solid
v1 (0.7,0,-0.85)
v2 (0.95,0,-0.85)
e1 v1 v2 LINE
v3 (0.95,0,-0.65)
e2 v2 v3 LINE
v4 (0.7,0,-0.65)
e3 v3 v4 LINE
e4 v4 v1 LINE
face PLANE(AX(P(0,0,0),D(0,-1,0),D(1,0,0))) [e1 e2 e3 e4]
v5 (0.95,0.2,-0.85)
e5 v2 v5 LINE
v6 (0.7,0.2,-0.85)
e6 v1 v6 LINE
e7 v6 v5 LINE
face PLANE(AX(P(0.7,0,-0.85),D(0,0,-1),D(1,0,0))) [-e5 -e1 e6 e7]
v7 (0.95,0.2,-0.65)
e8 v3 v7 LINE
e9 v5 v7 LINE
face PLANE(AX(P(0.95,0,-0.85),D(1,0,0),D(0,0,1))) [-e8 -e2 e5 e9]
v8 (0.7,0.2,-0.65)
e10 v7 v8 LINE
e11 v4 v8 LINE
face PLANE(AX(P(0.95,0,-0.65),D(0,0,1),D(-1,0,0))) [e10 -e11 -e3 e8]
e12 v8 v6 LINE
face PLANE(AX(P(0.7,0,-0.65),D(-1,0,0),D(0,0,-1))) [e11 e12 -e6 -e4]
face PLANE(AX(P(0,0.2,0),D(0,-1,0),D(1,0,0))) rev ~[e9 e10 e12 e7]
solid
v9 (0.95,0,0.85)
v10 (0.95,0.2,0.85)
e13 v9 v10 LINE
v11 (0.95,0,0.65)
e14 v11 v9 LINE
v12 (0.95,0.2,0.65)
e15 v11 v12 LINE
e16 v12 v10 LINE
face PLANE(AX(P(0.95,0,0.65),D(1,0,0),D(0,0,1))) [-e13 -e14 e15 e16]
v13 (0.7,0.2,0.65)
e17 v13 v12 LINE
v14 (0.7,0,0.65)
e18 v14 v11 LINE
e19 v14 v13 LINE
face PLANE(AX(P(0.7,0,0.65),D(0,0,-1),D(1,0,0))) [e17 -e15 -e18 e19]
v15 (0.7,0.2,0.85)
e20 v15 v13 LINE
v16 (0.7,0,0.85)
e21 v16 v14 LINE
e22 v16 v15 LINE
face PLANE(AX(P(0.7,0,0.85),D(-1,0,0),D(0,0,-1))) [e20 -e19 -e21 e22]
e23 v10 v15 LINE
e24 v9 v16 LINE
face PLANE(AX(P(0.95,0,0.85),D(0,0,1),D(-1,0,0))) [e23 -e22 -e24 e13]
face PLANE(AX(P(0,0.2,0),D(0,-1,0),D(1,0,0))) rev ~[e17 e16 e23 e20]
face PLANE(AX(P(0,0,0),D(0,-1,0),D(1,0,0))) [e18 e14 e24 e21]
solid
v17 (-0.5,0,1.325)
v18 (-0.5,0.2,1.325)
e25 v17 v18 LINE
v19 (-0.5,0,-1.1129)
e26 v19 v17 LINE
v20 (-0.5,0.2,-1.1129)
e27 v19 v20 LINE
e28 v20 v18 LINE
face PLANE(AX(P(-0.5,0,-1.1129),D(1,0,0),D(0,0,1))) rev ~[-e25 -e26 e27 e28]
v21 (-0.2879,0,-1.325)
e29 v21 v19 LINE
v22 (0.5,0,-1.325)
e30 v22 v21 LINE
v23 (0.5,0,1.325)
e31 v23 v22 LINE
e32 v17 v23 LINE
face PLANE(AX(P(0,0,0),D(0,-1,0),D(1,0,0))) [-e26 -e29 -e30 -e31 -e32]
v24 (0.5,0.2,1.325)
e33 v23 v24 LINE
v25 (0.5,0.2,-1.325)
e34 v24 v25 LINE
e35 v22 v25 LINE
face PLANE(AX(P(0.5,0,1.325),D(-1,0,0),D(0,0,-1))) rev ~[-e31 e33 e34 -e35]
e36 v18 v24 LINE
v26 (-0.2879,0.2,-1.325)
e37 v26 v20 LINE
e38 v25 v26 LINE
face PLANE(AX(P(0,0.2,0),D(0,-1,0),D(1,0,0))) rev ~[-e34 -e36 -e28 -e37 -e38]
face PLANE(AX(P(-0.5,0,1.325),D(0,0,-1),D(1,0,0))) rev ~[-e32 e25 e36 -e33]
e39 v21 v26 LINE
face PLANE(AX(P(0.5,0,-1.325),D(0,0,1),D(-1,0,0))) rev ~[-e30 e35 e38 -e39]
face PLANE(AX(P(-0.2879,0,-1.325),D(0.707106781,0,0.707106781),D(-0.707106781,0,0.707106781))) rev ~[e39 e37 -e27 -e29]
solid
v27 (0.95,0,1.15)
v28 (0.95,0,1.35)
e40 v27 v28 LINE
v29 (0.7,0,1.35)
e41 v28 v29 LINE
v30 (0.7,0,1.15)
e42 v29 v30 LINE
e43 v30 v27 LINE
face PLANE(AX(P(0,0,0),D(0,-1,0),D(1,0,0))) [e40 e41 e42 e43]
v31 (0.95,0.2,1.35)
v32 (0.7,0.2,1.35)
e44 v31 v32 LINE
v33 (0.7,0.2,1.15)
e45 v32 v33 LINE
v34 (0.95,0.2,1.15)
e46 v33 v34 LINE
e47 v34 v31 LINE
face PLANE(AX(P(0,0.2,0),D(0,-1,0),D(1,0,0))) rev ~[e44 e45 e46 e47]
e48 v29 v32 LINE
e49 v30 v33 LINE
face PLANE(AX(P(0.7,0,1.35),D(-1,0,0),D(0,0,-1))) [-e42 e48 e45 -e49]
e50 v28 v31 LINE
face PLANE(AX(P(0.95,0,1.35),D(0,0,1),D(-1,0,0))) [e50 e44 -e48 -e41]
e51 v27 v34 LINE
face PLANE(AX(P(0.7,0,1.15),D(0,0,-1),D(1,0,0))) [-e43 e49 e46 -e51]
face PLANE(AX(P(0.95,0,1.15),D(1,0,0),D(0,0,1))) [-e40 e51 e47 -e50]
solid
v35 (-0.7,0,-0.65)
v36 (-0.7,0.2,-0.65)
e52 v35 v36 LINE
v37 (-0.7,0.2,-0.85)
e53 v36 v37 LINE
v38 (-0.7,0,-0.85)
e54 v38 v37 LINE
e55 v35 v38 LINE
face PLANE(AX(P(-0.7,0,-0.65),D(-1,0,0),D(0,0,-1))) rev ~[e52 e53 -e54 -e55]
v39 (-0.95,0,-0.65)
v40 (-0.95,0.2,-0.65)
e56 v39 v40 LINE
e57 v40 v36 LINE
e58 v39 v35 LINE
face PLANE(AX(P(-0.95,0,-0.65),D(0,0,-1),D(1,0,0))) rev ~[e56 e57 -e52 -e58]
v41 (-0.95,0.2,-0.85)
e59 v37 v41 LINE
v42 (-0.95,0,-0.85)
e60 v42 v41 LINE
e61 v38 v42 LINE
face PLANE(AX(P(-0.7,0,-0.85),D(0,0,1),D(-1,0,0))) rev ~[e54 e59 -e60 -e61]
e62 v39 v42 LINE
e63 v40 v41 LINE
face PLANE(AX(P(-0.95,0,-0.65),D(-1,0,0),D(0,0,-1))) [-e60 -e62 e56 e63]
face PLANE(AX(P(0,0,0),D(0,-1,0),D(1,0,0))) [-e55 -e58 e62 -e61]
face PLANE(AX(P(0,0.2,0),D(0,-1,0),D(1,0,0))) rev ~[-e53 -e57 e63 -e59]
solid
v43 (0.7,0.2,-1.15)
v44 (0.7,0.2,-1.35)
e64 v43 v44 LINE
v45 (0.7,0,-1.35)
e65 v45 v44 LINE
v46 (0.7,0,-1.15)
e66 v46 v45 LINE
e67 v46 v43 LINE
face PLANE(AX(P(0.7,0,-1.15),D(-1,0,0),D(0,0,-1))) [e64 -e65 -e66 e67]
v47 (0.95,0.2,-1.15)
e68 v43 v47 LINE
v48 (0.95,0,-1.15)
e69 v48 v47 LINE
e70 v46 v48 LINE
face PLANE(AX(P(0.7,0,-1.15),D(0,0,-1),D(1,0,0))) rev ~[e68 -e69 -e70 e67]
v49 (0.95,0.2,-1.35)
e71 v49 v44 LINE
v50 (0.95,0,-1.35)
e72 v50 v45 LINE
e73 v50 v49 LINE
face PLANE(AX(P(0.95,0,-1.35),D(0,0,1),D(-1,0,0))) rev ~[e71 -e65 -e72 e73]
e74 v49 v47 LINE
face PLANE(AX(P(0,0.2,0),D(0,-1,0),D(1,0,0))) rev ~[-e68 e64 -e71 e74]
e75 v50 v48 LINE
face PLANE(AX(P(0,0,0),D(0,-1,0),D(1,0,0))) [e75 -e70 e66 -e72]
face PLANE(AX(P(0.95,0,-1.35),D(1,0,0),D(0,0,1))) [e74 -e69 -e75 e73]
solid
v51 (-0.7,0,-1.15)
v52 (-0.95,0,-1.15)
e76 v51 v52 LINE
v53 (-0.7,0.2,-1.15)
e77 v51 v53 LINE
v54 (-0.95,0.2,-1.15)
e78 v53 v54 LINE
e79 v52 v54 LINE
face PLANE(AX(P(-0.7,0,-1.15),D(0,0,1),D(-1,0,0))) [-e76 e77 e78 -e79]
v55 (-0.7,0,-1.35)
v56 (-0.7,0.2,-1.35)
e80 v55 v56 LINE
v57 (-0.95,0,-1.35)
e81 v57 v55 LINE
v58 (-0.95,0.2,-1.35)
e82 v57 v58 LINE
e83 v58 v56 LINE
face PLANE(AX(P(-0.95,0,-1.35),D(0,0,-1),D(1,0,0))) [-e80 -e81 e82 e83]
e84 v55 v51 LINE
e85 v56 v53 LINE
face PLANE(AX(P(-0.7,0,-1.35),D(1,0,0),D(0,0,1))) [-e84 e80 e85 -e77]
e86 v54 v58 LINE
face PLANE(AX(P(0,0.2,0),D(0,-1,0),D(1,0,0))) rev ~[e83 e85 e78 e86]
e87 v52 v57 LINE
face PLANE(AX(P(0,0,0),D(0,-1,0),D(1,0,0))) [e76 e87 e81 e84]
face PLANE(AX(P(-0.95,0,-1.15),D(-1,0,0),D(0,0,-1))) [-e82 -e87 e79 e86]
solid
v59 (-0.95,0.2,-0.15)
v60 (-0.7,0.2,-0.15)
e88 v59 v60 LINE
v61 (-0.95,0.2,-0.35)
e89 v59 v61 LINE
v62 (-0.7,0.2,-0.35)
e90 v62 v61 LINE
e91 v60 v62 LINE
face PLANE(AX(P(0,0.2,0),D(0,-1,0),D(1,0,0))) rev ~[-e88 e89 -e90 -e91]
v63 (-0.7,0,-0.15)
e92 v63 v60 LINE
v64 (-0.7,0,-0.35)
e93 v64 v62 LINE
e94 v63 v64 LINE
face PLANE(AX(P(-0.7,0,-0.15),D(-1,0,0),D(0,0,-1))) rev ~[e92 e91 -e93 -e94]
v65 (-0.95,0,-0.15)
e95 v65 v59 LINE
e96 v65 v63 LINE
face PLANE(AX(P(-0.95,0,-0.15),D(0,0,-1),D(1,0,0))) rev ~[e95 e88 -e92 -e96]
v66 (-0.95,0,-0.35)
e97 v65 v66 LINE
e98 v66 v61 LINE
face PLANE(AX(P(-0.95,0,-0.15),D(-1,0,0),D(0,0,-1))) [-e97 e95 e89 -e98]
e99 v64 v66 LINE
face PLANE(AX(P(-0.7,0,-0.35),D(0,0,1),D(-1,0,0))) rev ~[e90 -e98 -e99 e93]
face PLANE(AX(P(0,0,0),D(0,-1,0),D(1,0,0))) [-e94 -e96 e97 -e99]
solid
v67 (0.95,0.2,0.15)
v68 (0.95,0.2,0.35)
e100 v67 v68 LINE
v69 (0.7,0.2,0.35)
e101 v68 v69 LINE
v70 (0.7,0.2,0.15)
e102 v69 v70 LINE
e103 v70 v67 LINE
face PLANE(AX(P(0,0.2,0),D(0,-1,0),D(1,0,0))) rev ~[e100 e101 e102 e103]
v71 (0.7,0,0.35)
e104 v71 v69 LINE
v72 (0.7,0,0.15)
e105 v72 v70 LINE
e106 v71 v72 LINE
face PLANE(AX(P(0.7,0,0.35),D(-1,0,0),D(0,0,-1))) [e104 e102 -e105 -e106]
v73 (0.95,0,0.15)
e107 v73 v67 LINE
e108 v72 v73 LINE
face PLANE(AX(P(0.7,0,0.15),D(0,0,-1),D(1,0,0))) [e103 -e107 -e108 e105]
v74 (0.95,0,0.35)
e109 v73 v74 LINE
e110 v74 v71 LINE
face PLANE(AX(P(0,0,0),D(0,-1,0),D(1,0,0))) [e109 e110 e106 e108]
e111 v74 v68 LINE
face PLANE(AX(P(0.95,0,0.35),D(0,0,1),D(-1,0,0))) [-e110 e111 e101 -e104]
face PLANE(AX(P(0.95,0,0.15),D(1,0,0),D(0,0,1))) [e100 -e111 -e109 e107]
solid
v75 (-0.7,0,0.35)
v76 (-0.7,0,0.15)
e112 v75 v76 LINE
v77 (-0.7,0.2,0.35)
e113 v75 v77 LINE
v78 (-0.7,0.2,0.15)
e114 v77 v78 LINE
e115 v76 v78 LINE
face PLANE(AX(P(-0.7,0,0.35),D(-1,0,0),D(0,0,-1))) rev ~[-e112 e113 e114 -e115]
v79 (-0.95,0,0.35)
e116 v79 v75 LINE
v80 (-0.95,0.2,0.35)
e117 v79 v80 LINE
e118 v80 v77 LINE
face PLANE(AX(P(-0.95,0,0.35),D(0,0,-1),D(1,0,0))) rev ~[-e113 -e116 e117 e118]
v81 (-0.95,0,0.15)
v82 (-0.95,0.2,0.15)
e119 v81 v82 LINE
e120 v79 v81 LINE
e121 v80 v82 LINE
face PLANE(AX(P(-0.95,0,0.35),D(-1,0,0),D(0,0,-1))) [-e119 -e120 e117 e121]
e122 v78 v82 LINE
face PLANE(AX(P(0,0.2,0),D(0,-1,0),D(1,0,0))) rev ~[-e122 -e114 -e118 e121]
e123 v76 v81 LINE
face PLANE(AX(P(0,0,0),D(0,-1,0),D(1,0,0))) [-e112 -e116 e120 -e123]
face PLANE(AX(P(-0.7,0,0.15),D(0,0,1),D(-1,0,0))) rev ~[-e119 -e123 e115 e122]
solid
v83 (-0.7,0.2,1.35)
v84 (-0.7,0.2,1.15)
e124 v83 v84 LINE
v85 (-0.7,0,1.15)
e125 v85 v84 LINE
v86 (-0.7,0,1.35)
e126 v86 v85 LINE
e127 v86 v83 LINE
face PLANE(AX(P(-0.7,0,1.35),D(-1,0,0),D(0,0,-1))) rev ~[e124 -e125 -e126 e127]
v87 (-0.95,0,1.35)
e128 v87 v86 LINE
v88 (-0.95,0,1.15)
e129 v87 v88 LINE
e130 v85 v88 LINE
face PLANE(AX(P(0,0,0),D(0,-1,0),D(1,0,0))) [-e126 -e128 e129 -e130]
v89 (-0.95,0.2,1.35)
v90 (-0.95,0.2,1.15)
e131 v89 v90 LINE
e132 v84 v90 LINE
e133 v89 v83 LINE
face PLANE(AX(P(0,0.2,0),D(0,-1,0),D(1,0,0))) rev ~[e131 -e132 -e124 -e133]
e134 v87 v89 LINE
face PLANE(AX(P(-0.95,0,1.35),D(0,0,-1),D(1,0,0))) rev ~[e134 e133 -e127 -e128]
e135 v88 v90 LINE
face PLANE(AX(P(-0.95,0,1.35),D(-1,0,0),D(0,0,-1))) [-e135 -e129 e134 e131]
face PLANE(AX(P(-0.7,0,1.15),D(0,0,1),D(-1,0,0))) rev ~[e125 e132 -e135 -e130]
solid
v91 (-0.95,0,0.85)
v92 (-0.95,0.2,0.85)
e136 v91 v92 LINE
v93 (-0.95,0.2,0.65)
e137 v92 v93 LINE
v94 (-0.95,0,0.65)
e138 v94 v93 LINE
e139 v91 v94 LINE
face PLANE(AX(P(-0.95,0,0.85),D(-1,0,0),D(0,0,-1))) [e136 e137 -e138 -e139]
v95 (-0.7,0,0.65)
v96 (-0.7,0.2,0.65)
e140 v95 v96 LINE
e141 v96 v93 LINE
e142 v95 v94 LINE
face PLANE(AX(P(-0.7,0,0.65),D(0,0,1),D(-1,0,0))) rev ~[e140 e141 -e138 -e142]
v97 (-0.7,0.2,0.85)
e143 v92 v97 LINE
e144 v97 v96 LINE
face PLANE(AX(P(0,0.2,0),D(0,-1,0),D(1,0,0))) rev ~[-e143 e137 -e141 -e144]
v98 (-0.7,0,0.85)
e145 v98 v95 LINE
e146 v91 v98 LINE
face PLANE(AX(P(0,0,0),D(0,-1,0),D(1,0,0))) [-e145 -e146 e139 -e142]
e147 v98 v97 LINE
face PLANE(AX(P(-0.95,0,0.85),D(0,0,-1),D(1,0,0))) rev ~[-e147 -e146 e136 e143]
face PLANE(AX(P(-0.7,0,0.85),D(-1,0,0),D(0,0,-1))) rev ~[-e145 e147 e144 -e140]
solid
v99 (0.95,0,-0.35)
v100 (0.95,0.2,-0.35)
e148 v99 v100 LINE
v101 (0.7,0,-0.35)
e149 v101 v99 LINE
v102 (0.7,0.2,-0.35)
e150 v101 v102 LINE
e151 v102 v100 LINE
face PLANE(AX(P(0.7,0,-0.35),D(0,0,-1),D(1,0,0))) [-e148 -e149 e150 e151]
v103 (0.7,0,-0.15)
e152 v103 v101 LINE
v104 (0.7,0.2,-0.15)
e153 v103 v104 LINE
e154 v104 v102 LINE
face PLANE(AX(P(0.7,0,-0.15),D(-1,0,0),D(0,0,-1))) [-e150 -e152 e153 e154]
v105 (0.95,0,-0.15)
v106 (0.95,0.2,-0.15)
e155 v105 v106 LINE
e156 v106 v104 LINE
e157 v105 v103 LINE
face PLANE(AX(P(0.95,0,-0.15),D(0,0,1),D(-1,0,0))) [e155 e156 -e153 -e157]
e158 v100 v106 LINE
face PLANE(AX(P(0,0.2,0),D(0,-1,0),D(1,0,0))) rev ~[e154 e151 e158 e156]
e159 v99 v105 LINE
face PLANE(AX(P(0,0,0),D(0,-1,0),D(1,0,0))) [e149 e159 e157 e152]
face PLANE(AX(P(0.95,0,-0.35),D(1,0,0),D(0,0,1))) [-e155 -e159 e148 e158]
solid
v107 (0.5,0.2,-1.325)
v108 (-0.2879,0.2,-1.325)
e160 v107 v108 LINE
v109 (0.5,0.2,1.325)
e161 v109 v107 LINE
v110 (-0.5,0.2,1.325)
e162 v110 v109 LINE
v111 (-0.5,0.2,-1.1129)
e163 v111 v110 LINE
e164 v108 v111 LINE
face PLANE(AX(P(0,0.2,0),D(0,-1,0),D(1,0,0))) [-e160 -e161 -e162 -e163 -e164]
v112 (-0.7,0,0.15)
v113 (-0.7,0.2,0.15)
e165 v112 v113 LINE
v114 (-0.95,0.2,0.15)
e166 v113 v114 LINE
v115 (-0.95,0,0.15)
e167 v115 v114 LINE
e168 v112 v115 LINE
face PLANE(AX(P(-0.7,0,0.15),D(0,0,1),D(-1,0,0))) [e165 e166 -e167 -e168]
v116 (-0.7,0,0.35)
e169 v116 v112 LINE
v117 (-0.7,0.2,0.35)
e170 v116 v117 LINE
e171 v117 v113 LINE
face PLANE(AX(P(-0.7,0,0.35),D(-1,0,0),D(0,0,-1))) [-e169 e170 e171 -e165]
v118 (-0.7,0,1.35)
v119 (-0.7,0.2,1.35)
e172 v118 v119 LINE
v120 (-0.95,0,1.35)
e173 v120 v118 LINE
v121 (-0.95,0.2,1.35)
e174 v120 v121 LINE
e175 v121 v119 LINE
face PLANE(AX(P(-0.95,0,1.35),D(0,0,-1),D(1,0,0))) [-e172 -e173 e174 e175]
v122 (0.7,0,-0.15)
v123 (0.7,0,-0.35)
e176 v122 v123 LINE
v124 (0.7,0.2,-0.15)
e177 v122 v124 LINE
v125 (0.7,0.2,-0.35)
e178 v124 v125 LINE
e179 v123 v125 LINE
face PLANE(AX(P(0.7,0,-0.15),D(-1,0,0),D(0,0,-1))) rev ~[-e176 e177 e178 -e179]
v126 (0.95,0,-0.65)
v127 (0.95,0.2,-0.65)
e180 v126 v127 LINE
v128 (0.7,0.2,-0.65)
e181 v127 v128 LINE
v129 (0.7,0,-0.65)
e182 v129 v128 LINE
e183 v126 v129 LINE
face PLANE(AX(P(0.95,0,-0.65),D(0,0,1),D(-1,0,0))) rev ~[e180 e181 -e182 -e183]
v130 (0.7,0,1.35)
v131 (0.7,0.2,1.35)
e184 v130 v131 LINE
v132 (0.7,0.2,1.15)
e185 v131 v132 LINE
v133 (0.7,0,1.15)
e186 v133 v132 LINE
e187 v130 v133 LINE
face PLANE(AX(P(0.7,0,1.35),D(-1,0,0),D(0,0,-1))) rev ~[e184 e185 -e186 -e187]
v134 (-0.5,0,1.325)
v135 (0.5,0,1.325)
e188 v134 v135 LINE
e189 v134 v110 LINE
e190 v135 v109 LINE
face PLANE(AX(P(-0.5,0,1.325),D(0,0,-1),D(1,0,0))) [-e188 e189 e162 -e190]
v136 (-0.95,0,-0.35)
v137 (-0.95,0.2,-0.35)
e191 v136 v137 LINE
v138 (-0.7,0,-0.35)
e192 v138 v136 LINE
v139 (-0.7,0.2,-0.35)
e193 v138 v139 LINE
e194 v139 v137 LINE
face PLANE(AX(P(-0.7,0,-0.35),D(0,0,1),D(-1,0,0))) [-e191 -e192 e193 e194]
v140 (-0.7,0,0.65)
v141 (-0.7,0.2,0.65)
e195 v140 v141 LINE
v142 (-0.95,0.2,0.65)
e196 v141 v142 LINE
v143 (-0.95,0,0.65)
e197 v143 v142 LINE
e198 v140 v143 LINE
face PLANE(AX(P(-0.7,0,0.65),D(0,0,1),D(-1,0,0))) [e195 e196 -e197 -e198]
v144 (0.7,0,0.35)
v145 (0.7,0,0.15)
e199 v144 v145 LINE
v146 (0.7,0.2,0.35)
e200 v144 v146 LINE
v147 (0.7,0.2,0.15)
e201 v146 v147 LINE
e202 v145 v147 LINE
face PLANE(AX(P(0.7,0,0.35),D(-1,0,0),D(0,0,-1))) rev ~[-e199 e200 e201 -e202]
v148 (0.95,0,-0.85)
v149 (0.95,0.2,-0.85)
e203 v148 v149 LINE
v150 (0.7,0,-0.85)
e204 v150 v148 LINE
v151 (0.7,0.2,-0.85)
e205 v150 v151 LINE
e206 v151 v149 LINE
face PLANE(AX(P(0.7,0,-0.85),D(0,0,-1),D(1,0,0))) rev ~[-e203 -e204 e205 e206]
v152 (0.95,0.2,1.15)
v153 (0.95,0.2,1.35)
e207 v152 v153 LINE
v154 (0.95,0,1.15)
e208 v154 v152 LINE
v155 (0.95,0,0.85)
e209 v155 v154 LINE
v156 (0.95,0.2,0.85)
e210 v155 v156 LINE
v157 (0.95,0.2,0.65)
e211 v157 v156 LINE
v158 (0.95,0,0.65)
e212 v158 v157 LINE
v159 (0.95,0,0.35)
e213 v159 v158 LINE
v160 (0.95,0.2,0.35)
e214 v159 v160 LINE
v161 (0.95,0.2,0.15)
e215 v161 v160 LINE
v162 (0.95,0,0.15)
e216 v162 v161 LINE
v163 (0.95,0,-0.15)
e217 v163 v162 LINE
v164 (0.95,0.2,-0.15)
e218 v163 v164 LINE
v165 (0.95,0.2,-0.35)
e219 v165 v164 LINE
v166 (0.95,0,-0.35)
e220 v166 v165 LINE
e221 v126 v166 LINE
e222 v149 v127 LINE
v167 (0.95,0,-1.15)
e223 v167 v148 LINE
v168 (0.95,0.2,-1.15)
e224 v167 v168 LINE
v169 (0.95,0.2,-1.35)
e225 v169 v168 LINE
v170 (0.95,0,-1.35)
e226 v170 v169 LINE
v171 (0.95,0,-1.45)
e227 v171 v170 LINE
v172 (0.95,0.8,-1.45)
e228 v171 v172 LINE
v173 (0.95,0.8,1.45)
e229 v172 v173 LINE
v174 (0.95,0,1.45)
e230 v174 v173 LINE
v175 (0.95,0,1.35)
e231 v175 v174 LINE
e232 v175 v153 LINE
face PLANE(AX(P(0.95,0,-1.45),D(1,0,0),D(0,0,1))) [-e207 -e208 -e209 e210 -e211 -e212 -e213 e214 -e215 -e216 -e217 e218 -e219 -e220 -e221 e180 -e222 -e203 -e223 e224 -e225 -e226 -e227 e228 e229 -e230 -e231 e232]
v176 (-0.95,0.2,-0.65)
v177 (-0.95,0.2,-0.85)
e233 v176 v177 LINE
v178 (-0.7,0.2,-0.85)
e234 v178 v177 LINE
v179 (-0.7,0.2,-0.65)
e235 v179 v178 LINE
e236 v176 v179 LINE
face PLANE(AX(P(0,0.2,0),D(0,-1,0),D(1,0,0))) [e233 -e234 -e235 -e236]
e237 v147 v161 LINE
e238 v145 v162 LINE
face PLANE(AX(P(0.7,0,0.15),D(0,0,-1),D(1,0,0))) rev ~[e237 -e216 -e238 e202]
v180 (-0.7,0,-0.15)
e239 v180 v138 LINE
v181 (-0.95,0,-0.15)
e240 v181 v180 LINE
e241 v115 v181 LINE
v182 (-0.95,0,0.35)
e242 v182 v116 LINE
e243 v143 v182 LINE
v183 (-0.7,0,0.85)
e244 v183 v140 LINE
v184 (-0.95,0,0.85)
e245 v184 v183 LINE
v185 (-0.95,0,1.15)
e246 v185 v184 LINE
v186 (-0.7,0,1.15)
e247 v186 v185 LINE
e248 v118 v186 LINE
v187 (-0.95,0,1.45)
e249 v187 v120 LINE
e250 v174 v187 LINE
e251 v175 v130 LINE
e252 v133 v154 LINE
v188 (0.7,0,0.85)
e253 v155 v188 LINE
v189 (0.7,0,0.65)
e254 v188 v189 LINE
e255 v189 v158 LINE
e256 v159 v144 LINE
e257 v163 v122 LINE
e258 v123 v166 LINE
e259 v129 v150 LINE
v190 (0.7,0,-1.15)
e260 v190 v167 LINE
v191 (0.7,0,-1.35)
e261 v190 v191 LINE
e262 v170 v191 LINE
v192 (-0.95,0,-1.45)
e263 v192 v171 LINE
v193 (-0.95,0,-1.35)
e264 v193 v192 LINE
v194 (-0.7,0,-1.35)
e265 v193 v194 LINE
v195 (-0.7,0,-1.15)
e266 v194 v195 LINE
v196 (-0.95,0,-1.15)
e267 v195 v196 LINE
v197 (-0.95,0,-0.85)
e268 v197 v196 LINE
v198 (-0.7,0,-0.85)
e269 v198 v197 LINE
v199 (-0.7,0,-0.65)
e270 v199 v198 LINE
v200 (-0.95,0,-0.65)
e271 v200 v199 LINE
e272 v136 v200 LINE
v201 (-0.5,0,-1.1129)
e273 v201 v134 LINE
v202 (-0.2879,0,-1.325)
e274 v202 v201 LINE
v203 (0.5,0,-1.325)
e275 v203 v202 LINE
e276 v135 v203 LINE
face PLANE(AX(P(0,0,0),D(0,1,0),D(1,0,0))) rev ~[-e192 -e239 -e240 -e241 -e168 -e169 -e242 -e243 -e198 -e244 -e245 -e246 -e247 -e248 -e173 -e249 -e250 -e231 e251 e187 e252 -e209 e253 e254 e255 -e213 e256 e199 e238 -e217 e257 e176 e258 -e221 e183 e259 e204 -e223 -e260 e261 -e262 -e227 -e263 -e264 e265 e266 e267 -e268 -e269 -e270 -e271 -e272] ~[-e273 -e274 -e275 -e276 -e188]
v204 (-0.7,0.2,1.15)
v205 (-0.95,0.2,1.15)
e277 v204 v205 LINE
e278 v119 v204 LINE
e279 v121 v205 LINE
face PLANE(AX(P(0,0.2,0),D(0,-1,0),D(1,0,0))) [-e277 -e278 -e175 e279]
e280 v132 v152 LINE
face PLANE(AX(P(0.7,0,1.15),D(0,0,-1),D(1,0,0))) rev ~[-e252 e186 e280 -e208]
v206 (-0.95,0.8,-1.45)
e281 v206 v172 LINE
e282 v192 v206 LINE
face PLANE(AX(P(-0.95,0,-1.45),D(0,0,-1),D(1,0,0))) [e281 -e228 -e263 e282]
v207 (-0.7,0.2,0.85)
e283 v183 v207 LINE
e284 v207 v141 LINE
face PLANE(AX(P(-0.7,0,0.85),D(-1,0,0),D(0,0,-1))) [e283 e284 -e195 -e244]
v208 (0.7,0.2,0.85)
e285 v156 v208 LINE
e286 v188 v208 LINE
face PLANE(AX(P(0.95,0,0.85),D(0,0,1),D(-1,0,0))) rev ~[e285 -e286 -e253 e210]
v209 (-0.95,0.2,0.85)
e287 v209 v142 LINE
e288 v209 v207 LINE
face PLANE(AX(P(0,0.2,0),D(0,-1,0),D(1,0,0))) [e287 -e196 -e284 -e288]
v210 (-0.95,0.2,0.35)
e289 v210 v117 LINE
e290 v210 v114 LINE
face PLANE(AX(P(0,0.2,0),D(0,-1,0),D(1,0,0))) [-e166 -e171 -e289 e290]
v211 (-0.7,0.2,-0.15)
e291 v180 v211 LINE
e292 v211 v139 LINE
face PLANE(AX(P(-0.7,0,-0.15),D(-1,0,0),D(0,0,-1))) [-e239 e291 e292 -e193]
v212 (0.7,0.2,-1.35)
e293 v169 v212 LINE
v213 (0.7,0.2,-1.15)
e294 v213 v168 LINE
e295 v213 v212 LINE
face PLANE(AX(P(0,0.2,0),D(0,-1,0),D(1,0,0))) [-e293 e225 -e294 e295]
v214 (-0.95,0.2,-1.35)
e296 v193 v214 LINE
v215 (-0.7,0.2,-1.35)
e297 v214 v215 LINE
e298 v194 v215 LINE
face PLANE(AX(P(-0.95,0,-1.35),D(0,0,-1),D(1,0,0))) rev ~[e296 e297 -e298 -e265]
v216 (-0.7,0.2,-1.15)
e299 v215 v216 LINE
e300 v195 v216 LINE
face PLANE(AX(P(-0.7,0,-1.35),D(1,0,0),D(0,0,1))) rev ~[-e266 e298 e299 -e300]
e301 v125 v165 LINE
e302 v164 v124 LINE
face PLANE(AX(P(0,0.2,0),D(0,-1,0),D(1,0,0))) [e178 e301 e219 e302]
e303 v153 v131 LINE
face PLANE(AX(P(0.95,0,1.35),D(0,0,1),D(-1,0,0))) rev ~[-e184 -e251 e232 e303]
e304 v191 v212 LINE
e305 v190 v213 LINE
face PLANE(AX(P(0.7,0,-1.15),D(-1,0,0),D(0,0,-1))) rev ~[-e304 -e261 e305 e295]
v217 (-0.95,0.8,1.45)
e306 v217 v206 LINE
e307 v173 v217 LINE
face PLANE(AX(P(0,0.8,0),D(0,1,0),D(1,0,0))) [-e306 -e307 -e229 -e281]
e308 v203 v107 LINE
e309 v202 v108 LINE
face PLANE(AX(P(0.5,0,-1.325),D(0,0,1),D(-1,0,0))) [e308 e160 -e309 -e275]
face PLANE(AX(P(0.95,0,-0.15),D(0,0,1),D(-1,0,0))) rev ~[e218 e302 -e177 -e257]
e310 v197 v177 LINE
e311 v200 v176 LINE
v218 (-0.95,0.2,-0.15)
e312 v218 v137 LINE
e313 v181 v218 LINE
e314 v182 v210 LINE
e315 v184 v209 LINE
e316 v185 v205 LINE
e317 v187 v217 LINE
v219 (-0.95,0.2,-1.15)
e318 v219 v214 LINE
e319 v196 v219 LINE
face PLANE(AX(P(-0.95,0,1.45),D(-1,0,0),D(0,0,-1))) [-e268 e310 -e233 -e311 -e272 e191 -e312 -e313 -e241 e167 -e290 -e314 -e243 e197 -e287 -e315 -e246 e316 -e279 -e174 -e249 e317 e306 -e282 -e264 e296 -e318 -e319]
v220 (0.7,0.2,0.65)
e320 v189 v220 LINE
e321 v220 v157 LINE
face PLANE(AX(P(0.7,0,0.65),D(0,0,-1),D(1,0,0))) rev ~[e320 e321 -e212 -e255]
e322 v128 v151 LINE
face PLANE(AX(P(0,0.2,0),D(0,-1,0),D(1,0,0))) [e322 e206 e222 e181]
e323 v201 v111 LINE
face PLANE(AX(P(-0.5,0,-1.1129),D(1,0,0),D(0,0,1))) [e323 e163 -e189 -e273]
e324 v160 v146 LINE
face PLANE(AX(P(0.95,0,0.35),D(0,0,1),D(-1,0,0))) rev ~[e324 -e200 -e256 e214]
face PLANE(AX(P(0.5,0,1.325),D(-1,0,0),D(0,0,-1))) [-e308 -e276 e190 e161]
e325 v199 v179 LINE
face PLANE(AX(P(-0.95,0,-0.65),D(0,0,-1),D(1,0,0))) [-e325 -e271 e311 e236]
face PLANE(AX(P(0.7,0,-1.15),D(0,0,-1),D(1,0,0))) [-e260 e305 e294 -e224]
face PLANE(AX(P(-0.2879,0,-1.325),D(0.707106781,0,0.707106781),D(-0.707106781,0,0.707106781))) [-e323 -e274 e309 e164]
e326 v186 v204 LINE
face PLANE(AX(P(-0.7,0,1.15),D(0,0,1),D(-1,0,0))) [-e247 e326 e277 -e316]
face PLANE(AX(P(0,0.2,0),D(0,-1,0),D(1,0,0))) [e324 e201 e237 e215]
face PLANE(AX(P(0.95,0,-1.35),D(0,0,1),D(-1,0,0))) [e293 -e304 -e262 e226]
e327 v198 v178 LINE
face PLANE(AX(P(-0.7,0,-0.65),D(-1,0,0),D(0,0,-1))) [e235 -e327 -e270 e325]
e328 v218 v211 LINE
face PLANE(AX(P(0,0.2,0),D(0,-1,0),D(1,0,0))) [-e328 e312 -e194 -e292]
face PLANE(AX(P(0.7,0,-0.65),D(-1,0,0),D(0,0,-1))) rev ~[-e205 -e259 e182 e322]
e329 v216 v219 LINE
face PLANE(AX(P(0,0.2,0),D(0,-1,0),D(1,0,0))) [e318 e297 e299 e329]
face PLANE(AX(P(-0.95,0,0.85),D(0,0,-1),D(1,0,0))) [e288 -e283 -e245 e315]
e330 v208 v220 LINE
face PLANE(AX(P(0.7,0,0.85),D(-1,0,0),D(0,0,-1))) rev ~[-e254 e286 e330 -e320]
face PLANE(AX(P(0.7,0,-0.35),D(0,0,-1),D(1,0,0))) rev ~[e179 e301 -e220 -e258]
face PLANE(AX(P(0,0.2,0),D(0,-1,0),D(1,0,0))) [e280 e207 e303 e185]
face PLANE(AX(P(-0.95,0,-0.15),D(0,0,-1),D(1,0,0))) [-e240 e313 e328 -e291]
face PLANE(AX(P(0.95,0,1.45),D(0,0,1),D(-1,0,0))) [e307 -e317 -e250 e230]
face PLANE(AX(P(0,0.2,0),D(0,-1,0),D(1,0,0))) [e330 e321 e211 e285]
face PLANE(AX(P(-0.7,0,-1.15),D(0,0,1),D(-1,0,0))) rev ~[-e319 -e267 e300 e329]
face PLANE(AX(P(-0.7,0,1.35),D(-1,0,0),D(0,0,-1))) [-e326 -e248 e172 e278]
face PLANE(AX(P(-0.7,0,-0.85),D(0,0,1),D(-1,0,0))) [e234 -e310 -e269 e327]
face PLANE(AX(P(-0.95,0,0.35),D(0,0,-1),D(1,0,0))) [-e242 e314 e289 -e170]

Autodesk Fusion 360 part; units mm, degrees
sketch "草图1" plane through (0, 0, 0) normal (0, 1, 0) x (1, 0, 0)
  line L0 (-0.95, 1.45) -> (0.95, 1.45)
  line L1 (0.95, 1.45) -> (0.95, -1.45)
  line L2 (0.95, -1.45) -> (-0.95, -1.45)
  line L3 (-0.95, -1.45) -> (-0.95, 1.45)
  line L4 (-0.95, 1.45) -> (0.95, -1.45) construction
  line L5 (0.95, 1.45) -> (-0.95, -1.45) construction
  dimension "d1" = 2.9
  dimension "d2" = 1.9
extrude "拉伸1" add sketch "草图1" along normal blind 0.8 makes body 1
sketch "草图2" plane through (0, 0, 0) normal (0, -1, 0) x (1, 0, 0)
  line L0 (0.95, 1.45) -> (-0.95, 1.45)
  line L1 (-0.95, 1.45) -> (-0.95, -1.45)
  line L2 (-0.95, -1.45) -> (0.95, -1.45)
  line L3 (0.95, -1.45) -> (0.95, 1.45)
  line L4 (0, 2.5) -> (0, -3) construction
  line L5 (-2.5, 0) -> (3, 0) construction
  line L6 (-0.5, 1.325) -> (0.5, 1.325)
  line L7 (0.5, 1.325) -> (0.5, -1.325)
  line L8 (0.5, -1.325) -> (-0.2879, -1.325)
  line L9 (-0.2879, -1.325) -> (-0.5, -1.1129)
  line L10 (-0.5, -1.1129) -> (-0.5, 1.325)
  line L11 (-0.95, 1.35) -> (-0.7, 1.35)
  line L12 (-0.7, 1.35) -> (-0.7, 1.15)
  line L13 (-0.7, 1.15) -> (-0.95, 1.15)
  line L14 (-0.95, 1.15) -> (-0.95, 1.35)
  line L15 (-0.7, -1.15) -> (-0.95, -1.15)
  line L16 (-0.7, -1.35) -> (-0.7, -1.15)
  line L17 (-0.95, -1.15) -> (-0.95, -1.35)
  line L18 (-0.95, -1.35) -> (-0.7, -1.35)
  line L19 (-0.7, 0.65) -> (-0.95, 0.65)
  line L20 (-0.7, 0.85) -> (-0.7, 0.65)
  line L21 (-0.95, 0.85) -> (-0.7, 0.85)
  line L22 (-0.95, 0.65) -> (-0.95, 0.85)
  line L23 (-0.7, 0.15) -> (-0.95, 0.15)
  line L24 (-0.7, 0.35) -> (-0.7, 0.15)
  line L25 (-0.95, 0.35) -> (-0.7, 0.35)
  line L26 (-0.95, 0.15) -> (-0.95, 0.35)
  line L27 (-0.7, -0.35) -> (-0.95, -0.35)
  line L28 (-0.7, -0.15) -> (-0.7, -0.35)
  line L29 (-0.95, -0.15) -> (-0.7, -0.15)
  line L30 (-0.95, -0.35) -> (-0.95, -0.15)
  line L31 (-0.7, -0.85) -> (-0.95, -0.85)
  line L32 (-0.7, -0.65) -> (-0.7, -0.85)
  line L33 (-0.95, -0.65) -> (-0.7, -0.65)
  line L34 (-0.95, -0.85) -> (-0.95, -0.65)
  line L35 (-0.7, -1.35) -> (-0.95, -1.35)
  line L36 (-0.7, -1.15) -> (-0.7, -1.35)
  line L37 (-0.95, -1.15) -> (-0.7, -1.15)
  line L38 (-0.95, -1.35) -> (-0.95, -1.15)
  line L39 (0.7, 1.15) -> (0.95, 1.15)
  line L40 (0.7, 1.35) -> (0.7, 1.15)
  line L41 (0.95, 1.35) -> (0.7, 1.35)
  line L42 (0.95, 1.15) -> (0.95, 1.35)
  line L43 (0.95, 0.85) -> (0.7, 0.85)
  line L44 (0.7, 0.85) -> (0.7, 0.65)
  line L45 (0.7, 0.65) -> (0.95, 0.65)
  line L46 (0.95, 0.65) -> (0.95, 0.85)
  line L47 (0.95, 0.35) -> (0.7, 0.35)
  line L48 (0.7, 0.35) -> (0.7, 0.15)
  line L49 (0.7, 0.15) -> (0.95, 0.15)
  line L50 (0.95, 0.15) -> (0.95, 0.35)
  line L51 (0.95, -0.15) -> (0.7, -0.15)
  line L52 (0.7, -0.15) -> (0.7, -0.35)
  line L53 (0.7, -0.35) -> (0.95, -0.35)
  line L54 (0.95, -0.35) -> (0.95, -0.15)
  line L55 (0.95, -0.65) -> (0.7, -0.65)
  line L56 (0.7, -0.65) -> (0.7, -0.85)
  line L57 (0.7, -0.85) -> (0.95, -0.85)
  line L58 (0.95, -0.85) -> (0.95, -0.65)
  line L59 (0.7, -1.15) -> (0.95, -1.15)
  line L60 (0.7, -1.15) -> (0.7, -1.35)
  line L61 (0.95, -1.35) -> (0.95, -1.15)
  line L62 (0.95, -1.35) -> (0.7, -1.35)
  dimension "d5" = 1
  dimension "d6" = 2.65
  dimension "d7" = 135
  dimension "d8" = 0.3
  dimension "d9" = 0.2
  dimension "d10" = 0.25
  dimension "d11" = 2.7
  dimension "d14" = 0
  dimension "d15" = -2.5
extrude "拉伸2" cut sketch "草图2" against normal blind 0.2 contours L6 L7 L8 L9 L10 bodies 1
extrude "拉伸3" cut sketch "草图2" against normal blind 0.2 contours L3 L39 L40 L41 L42 | L1 L11 L12 L13 L14 | L3 L43 L44 L45 L46 | L1 L19 L20 L21 L22 | L3 L47 L48 L49 L50 | L1 L23 L24 L25 L26 | L3 L51 L52 L53 L54 | L1 L27 L28 L29 L30 | L3 L55 L56 L57 L58 | L1 L31 L32 L33 L34 | L3 L59 L60 L61 L62 | L1 L15 L16 L17 L18 L35 L36 L37 L38 bodies 1
extrude "拉伸4" add sketch "草图2" against normal blind 0.2 separate body contours L3 L39 L40 L41 L42 | L1 L11 L12 L13 L14 | L3 L43 L44 L45 L46 | L1 L19 L20 L21 L22 | L3 L47 L48 L49 L50 | L1 L23 L24 L25 L26 | L3 L51 L52 L53 L54 | L1 L27 L28 L29 L30 | L3 L55 L56 L57 L58 | L1 L31 L32 L33 L34 | L3 L59 L60 L61 L62 | L1 L15 L16 L17 L18 L35 L36 L37 L38 | L6 L7 L8 L9 L10 makes body 2 at (0.8667, 0, -0.7833) makes body 3 at (-0.8667, 0, -0.2167) makes body 4 at (-0.8667, 0, 0.7833) makes body 5 at (0.1667, 0, -0.371) makes body 6 at (-0.8667, 0, 0.2833) makes body 7 at (0.7833, 0, -1.2167) makes body 8 at (0.7833, 0, -0.2167) makes body 9 at (-0.8667, 0, -0.7167) makes body 10 at (0.8667, 0, 1.2167) makes body 11 at (-0.8667, 0, 1.2833) makes body 12 at (0.8667, 0, 0.7167) makes body 13 at (-0.8667, 0.0667, -1.35) makes body 14 at (0.8667, 0, 0.2167)
